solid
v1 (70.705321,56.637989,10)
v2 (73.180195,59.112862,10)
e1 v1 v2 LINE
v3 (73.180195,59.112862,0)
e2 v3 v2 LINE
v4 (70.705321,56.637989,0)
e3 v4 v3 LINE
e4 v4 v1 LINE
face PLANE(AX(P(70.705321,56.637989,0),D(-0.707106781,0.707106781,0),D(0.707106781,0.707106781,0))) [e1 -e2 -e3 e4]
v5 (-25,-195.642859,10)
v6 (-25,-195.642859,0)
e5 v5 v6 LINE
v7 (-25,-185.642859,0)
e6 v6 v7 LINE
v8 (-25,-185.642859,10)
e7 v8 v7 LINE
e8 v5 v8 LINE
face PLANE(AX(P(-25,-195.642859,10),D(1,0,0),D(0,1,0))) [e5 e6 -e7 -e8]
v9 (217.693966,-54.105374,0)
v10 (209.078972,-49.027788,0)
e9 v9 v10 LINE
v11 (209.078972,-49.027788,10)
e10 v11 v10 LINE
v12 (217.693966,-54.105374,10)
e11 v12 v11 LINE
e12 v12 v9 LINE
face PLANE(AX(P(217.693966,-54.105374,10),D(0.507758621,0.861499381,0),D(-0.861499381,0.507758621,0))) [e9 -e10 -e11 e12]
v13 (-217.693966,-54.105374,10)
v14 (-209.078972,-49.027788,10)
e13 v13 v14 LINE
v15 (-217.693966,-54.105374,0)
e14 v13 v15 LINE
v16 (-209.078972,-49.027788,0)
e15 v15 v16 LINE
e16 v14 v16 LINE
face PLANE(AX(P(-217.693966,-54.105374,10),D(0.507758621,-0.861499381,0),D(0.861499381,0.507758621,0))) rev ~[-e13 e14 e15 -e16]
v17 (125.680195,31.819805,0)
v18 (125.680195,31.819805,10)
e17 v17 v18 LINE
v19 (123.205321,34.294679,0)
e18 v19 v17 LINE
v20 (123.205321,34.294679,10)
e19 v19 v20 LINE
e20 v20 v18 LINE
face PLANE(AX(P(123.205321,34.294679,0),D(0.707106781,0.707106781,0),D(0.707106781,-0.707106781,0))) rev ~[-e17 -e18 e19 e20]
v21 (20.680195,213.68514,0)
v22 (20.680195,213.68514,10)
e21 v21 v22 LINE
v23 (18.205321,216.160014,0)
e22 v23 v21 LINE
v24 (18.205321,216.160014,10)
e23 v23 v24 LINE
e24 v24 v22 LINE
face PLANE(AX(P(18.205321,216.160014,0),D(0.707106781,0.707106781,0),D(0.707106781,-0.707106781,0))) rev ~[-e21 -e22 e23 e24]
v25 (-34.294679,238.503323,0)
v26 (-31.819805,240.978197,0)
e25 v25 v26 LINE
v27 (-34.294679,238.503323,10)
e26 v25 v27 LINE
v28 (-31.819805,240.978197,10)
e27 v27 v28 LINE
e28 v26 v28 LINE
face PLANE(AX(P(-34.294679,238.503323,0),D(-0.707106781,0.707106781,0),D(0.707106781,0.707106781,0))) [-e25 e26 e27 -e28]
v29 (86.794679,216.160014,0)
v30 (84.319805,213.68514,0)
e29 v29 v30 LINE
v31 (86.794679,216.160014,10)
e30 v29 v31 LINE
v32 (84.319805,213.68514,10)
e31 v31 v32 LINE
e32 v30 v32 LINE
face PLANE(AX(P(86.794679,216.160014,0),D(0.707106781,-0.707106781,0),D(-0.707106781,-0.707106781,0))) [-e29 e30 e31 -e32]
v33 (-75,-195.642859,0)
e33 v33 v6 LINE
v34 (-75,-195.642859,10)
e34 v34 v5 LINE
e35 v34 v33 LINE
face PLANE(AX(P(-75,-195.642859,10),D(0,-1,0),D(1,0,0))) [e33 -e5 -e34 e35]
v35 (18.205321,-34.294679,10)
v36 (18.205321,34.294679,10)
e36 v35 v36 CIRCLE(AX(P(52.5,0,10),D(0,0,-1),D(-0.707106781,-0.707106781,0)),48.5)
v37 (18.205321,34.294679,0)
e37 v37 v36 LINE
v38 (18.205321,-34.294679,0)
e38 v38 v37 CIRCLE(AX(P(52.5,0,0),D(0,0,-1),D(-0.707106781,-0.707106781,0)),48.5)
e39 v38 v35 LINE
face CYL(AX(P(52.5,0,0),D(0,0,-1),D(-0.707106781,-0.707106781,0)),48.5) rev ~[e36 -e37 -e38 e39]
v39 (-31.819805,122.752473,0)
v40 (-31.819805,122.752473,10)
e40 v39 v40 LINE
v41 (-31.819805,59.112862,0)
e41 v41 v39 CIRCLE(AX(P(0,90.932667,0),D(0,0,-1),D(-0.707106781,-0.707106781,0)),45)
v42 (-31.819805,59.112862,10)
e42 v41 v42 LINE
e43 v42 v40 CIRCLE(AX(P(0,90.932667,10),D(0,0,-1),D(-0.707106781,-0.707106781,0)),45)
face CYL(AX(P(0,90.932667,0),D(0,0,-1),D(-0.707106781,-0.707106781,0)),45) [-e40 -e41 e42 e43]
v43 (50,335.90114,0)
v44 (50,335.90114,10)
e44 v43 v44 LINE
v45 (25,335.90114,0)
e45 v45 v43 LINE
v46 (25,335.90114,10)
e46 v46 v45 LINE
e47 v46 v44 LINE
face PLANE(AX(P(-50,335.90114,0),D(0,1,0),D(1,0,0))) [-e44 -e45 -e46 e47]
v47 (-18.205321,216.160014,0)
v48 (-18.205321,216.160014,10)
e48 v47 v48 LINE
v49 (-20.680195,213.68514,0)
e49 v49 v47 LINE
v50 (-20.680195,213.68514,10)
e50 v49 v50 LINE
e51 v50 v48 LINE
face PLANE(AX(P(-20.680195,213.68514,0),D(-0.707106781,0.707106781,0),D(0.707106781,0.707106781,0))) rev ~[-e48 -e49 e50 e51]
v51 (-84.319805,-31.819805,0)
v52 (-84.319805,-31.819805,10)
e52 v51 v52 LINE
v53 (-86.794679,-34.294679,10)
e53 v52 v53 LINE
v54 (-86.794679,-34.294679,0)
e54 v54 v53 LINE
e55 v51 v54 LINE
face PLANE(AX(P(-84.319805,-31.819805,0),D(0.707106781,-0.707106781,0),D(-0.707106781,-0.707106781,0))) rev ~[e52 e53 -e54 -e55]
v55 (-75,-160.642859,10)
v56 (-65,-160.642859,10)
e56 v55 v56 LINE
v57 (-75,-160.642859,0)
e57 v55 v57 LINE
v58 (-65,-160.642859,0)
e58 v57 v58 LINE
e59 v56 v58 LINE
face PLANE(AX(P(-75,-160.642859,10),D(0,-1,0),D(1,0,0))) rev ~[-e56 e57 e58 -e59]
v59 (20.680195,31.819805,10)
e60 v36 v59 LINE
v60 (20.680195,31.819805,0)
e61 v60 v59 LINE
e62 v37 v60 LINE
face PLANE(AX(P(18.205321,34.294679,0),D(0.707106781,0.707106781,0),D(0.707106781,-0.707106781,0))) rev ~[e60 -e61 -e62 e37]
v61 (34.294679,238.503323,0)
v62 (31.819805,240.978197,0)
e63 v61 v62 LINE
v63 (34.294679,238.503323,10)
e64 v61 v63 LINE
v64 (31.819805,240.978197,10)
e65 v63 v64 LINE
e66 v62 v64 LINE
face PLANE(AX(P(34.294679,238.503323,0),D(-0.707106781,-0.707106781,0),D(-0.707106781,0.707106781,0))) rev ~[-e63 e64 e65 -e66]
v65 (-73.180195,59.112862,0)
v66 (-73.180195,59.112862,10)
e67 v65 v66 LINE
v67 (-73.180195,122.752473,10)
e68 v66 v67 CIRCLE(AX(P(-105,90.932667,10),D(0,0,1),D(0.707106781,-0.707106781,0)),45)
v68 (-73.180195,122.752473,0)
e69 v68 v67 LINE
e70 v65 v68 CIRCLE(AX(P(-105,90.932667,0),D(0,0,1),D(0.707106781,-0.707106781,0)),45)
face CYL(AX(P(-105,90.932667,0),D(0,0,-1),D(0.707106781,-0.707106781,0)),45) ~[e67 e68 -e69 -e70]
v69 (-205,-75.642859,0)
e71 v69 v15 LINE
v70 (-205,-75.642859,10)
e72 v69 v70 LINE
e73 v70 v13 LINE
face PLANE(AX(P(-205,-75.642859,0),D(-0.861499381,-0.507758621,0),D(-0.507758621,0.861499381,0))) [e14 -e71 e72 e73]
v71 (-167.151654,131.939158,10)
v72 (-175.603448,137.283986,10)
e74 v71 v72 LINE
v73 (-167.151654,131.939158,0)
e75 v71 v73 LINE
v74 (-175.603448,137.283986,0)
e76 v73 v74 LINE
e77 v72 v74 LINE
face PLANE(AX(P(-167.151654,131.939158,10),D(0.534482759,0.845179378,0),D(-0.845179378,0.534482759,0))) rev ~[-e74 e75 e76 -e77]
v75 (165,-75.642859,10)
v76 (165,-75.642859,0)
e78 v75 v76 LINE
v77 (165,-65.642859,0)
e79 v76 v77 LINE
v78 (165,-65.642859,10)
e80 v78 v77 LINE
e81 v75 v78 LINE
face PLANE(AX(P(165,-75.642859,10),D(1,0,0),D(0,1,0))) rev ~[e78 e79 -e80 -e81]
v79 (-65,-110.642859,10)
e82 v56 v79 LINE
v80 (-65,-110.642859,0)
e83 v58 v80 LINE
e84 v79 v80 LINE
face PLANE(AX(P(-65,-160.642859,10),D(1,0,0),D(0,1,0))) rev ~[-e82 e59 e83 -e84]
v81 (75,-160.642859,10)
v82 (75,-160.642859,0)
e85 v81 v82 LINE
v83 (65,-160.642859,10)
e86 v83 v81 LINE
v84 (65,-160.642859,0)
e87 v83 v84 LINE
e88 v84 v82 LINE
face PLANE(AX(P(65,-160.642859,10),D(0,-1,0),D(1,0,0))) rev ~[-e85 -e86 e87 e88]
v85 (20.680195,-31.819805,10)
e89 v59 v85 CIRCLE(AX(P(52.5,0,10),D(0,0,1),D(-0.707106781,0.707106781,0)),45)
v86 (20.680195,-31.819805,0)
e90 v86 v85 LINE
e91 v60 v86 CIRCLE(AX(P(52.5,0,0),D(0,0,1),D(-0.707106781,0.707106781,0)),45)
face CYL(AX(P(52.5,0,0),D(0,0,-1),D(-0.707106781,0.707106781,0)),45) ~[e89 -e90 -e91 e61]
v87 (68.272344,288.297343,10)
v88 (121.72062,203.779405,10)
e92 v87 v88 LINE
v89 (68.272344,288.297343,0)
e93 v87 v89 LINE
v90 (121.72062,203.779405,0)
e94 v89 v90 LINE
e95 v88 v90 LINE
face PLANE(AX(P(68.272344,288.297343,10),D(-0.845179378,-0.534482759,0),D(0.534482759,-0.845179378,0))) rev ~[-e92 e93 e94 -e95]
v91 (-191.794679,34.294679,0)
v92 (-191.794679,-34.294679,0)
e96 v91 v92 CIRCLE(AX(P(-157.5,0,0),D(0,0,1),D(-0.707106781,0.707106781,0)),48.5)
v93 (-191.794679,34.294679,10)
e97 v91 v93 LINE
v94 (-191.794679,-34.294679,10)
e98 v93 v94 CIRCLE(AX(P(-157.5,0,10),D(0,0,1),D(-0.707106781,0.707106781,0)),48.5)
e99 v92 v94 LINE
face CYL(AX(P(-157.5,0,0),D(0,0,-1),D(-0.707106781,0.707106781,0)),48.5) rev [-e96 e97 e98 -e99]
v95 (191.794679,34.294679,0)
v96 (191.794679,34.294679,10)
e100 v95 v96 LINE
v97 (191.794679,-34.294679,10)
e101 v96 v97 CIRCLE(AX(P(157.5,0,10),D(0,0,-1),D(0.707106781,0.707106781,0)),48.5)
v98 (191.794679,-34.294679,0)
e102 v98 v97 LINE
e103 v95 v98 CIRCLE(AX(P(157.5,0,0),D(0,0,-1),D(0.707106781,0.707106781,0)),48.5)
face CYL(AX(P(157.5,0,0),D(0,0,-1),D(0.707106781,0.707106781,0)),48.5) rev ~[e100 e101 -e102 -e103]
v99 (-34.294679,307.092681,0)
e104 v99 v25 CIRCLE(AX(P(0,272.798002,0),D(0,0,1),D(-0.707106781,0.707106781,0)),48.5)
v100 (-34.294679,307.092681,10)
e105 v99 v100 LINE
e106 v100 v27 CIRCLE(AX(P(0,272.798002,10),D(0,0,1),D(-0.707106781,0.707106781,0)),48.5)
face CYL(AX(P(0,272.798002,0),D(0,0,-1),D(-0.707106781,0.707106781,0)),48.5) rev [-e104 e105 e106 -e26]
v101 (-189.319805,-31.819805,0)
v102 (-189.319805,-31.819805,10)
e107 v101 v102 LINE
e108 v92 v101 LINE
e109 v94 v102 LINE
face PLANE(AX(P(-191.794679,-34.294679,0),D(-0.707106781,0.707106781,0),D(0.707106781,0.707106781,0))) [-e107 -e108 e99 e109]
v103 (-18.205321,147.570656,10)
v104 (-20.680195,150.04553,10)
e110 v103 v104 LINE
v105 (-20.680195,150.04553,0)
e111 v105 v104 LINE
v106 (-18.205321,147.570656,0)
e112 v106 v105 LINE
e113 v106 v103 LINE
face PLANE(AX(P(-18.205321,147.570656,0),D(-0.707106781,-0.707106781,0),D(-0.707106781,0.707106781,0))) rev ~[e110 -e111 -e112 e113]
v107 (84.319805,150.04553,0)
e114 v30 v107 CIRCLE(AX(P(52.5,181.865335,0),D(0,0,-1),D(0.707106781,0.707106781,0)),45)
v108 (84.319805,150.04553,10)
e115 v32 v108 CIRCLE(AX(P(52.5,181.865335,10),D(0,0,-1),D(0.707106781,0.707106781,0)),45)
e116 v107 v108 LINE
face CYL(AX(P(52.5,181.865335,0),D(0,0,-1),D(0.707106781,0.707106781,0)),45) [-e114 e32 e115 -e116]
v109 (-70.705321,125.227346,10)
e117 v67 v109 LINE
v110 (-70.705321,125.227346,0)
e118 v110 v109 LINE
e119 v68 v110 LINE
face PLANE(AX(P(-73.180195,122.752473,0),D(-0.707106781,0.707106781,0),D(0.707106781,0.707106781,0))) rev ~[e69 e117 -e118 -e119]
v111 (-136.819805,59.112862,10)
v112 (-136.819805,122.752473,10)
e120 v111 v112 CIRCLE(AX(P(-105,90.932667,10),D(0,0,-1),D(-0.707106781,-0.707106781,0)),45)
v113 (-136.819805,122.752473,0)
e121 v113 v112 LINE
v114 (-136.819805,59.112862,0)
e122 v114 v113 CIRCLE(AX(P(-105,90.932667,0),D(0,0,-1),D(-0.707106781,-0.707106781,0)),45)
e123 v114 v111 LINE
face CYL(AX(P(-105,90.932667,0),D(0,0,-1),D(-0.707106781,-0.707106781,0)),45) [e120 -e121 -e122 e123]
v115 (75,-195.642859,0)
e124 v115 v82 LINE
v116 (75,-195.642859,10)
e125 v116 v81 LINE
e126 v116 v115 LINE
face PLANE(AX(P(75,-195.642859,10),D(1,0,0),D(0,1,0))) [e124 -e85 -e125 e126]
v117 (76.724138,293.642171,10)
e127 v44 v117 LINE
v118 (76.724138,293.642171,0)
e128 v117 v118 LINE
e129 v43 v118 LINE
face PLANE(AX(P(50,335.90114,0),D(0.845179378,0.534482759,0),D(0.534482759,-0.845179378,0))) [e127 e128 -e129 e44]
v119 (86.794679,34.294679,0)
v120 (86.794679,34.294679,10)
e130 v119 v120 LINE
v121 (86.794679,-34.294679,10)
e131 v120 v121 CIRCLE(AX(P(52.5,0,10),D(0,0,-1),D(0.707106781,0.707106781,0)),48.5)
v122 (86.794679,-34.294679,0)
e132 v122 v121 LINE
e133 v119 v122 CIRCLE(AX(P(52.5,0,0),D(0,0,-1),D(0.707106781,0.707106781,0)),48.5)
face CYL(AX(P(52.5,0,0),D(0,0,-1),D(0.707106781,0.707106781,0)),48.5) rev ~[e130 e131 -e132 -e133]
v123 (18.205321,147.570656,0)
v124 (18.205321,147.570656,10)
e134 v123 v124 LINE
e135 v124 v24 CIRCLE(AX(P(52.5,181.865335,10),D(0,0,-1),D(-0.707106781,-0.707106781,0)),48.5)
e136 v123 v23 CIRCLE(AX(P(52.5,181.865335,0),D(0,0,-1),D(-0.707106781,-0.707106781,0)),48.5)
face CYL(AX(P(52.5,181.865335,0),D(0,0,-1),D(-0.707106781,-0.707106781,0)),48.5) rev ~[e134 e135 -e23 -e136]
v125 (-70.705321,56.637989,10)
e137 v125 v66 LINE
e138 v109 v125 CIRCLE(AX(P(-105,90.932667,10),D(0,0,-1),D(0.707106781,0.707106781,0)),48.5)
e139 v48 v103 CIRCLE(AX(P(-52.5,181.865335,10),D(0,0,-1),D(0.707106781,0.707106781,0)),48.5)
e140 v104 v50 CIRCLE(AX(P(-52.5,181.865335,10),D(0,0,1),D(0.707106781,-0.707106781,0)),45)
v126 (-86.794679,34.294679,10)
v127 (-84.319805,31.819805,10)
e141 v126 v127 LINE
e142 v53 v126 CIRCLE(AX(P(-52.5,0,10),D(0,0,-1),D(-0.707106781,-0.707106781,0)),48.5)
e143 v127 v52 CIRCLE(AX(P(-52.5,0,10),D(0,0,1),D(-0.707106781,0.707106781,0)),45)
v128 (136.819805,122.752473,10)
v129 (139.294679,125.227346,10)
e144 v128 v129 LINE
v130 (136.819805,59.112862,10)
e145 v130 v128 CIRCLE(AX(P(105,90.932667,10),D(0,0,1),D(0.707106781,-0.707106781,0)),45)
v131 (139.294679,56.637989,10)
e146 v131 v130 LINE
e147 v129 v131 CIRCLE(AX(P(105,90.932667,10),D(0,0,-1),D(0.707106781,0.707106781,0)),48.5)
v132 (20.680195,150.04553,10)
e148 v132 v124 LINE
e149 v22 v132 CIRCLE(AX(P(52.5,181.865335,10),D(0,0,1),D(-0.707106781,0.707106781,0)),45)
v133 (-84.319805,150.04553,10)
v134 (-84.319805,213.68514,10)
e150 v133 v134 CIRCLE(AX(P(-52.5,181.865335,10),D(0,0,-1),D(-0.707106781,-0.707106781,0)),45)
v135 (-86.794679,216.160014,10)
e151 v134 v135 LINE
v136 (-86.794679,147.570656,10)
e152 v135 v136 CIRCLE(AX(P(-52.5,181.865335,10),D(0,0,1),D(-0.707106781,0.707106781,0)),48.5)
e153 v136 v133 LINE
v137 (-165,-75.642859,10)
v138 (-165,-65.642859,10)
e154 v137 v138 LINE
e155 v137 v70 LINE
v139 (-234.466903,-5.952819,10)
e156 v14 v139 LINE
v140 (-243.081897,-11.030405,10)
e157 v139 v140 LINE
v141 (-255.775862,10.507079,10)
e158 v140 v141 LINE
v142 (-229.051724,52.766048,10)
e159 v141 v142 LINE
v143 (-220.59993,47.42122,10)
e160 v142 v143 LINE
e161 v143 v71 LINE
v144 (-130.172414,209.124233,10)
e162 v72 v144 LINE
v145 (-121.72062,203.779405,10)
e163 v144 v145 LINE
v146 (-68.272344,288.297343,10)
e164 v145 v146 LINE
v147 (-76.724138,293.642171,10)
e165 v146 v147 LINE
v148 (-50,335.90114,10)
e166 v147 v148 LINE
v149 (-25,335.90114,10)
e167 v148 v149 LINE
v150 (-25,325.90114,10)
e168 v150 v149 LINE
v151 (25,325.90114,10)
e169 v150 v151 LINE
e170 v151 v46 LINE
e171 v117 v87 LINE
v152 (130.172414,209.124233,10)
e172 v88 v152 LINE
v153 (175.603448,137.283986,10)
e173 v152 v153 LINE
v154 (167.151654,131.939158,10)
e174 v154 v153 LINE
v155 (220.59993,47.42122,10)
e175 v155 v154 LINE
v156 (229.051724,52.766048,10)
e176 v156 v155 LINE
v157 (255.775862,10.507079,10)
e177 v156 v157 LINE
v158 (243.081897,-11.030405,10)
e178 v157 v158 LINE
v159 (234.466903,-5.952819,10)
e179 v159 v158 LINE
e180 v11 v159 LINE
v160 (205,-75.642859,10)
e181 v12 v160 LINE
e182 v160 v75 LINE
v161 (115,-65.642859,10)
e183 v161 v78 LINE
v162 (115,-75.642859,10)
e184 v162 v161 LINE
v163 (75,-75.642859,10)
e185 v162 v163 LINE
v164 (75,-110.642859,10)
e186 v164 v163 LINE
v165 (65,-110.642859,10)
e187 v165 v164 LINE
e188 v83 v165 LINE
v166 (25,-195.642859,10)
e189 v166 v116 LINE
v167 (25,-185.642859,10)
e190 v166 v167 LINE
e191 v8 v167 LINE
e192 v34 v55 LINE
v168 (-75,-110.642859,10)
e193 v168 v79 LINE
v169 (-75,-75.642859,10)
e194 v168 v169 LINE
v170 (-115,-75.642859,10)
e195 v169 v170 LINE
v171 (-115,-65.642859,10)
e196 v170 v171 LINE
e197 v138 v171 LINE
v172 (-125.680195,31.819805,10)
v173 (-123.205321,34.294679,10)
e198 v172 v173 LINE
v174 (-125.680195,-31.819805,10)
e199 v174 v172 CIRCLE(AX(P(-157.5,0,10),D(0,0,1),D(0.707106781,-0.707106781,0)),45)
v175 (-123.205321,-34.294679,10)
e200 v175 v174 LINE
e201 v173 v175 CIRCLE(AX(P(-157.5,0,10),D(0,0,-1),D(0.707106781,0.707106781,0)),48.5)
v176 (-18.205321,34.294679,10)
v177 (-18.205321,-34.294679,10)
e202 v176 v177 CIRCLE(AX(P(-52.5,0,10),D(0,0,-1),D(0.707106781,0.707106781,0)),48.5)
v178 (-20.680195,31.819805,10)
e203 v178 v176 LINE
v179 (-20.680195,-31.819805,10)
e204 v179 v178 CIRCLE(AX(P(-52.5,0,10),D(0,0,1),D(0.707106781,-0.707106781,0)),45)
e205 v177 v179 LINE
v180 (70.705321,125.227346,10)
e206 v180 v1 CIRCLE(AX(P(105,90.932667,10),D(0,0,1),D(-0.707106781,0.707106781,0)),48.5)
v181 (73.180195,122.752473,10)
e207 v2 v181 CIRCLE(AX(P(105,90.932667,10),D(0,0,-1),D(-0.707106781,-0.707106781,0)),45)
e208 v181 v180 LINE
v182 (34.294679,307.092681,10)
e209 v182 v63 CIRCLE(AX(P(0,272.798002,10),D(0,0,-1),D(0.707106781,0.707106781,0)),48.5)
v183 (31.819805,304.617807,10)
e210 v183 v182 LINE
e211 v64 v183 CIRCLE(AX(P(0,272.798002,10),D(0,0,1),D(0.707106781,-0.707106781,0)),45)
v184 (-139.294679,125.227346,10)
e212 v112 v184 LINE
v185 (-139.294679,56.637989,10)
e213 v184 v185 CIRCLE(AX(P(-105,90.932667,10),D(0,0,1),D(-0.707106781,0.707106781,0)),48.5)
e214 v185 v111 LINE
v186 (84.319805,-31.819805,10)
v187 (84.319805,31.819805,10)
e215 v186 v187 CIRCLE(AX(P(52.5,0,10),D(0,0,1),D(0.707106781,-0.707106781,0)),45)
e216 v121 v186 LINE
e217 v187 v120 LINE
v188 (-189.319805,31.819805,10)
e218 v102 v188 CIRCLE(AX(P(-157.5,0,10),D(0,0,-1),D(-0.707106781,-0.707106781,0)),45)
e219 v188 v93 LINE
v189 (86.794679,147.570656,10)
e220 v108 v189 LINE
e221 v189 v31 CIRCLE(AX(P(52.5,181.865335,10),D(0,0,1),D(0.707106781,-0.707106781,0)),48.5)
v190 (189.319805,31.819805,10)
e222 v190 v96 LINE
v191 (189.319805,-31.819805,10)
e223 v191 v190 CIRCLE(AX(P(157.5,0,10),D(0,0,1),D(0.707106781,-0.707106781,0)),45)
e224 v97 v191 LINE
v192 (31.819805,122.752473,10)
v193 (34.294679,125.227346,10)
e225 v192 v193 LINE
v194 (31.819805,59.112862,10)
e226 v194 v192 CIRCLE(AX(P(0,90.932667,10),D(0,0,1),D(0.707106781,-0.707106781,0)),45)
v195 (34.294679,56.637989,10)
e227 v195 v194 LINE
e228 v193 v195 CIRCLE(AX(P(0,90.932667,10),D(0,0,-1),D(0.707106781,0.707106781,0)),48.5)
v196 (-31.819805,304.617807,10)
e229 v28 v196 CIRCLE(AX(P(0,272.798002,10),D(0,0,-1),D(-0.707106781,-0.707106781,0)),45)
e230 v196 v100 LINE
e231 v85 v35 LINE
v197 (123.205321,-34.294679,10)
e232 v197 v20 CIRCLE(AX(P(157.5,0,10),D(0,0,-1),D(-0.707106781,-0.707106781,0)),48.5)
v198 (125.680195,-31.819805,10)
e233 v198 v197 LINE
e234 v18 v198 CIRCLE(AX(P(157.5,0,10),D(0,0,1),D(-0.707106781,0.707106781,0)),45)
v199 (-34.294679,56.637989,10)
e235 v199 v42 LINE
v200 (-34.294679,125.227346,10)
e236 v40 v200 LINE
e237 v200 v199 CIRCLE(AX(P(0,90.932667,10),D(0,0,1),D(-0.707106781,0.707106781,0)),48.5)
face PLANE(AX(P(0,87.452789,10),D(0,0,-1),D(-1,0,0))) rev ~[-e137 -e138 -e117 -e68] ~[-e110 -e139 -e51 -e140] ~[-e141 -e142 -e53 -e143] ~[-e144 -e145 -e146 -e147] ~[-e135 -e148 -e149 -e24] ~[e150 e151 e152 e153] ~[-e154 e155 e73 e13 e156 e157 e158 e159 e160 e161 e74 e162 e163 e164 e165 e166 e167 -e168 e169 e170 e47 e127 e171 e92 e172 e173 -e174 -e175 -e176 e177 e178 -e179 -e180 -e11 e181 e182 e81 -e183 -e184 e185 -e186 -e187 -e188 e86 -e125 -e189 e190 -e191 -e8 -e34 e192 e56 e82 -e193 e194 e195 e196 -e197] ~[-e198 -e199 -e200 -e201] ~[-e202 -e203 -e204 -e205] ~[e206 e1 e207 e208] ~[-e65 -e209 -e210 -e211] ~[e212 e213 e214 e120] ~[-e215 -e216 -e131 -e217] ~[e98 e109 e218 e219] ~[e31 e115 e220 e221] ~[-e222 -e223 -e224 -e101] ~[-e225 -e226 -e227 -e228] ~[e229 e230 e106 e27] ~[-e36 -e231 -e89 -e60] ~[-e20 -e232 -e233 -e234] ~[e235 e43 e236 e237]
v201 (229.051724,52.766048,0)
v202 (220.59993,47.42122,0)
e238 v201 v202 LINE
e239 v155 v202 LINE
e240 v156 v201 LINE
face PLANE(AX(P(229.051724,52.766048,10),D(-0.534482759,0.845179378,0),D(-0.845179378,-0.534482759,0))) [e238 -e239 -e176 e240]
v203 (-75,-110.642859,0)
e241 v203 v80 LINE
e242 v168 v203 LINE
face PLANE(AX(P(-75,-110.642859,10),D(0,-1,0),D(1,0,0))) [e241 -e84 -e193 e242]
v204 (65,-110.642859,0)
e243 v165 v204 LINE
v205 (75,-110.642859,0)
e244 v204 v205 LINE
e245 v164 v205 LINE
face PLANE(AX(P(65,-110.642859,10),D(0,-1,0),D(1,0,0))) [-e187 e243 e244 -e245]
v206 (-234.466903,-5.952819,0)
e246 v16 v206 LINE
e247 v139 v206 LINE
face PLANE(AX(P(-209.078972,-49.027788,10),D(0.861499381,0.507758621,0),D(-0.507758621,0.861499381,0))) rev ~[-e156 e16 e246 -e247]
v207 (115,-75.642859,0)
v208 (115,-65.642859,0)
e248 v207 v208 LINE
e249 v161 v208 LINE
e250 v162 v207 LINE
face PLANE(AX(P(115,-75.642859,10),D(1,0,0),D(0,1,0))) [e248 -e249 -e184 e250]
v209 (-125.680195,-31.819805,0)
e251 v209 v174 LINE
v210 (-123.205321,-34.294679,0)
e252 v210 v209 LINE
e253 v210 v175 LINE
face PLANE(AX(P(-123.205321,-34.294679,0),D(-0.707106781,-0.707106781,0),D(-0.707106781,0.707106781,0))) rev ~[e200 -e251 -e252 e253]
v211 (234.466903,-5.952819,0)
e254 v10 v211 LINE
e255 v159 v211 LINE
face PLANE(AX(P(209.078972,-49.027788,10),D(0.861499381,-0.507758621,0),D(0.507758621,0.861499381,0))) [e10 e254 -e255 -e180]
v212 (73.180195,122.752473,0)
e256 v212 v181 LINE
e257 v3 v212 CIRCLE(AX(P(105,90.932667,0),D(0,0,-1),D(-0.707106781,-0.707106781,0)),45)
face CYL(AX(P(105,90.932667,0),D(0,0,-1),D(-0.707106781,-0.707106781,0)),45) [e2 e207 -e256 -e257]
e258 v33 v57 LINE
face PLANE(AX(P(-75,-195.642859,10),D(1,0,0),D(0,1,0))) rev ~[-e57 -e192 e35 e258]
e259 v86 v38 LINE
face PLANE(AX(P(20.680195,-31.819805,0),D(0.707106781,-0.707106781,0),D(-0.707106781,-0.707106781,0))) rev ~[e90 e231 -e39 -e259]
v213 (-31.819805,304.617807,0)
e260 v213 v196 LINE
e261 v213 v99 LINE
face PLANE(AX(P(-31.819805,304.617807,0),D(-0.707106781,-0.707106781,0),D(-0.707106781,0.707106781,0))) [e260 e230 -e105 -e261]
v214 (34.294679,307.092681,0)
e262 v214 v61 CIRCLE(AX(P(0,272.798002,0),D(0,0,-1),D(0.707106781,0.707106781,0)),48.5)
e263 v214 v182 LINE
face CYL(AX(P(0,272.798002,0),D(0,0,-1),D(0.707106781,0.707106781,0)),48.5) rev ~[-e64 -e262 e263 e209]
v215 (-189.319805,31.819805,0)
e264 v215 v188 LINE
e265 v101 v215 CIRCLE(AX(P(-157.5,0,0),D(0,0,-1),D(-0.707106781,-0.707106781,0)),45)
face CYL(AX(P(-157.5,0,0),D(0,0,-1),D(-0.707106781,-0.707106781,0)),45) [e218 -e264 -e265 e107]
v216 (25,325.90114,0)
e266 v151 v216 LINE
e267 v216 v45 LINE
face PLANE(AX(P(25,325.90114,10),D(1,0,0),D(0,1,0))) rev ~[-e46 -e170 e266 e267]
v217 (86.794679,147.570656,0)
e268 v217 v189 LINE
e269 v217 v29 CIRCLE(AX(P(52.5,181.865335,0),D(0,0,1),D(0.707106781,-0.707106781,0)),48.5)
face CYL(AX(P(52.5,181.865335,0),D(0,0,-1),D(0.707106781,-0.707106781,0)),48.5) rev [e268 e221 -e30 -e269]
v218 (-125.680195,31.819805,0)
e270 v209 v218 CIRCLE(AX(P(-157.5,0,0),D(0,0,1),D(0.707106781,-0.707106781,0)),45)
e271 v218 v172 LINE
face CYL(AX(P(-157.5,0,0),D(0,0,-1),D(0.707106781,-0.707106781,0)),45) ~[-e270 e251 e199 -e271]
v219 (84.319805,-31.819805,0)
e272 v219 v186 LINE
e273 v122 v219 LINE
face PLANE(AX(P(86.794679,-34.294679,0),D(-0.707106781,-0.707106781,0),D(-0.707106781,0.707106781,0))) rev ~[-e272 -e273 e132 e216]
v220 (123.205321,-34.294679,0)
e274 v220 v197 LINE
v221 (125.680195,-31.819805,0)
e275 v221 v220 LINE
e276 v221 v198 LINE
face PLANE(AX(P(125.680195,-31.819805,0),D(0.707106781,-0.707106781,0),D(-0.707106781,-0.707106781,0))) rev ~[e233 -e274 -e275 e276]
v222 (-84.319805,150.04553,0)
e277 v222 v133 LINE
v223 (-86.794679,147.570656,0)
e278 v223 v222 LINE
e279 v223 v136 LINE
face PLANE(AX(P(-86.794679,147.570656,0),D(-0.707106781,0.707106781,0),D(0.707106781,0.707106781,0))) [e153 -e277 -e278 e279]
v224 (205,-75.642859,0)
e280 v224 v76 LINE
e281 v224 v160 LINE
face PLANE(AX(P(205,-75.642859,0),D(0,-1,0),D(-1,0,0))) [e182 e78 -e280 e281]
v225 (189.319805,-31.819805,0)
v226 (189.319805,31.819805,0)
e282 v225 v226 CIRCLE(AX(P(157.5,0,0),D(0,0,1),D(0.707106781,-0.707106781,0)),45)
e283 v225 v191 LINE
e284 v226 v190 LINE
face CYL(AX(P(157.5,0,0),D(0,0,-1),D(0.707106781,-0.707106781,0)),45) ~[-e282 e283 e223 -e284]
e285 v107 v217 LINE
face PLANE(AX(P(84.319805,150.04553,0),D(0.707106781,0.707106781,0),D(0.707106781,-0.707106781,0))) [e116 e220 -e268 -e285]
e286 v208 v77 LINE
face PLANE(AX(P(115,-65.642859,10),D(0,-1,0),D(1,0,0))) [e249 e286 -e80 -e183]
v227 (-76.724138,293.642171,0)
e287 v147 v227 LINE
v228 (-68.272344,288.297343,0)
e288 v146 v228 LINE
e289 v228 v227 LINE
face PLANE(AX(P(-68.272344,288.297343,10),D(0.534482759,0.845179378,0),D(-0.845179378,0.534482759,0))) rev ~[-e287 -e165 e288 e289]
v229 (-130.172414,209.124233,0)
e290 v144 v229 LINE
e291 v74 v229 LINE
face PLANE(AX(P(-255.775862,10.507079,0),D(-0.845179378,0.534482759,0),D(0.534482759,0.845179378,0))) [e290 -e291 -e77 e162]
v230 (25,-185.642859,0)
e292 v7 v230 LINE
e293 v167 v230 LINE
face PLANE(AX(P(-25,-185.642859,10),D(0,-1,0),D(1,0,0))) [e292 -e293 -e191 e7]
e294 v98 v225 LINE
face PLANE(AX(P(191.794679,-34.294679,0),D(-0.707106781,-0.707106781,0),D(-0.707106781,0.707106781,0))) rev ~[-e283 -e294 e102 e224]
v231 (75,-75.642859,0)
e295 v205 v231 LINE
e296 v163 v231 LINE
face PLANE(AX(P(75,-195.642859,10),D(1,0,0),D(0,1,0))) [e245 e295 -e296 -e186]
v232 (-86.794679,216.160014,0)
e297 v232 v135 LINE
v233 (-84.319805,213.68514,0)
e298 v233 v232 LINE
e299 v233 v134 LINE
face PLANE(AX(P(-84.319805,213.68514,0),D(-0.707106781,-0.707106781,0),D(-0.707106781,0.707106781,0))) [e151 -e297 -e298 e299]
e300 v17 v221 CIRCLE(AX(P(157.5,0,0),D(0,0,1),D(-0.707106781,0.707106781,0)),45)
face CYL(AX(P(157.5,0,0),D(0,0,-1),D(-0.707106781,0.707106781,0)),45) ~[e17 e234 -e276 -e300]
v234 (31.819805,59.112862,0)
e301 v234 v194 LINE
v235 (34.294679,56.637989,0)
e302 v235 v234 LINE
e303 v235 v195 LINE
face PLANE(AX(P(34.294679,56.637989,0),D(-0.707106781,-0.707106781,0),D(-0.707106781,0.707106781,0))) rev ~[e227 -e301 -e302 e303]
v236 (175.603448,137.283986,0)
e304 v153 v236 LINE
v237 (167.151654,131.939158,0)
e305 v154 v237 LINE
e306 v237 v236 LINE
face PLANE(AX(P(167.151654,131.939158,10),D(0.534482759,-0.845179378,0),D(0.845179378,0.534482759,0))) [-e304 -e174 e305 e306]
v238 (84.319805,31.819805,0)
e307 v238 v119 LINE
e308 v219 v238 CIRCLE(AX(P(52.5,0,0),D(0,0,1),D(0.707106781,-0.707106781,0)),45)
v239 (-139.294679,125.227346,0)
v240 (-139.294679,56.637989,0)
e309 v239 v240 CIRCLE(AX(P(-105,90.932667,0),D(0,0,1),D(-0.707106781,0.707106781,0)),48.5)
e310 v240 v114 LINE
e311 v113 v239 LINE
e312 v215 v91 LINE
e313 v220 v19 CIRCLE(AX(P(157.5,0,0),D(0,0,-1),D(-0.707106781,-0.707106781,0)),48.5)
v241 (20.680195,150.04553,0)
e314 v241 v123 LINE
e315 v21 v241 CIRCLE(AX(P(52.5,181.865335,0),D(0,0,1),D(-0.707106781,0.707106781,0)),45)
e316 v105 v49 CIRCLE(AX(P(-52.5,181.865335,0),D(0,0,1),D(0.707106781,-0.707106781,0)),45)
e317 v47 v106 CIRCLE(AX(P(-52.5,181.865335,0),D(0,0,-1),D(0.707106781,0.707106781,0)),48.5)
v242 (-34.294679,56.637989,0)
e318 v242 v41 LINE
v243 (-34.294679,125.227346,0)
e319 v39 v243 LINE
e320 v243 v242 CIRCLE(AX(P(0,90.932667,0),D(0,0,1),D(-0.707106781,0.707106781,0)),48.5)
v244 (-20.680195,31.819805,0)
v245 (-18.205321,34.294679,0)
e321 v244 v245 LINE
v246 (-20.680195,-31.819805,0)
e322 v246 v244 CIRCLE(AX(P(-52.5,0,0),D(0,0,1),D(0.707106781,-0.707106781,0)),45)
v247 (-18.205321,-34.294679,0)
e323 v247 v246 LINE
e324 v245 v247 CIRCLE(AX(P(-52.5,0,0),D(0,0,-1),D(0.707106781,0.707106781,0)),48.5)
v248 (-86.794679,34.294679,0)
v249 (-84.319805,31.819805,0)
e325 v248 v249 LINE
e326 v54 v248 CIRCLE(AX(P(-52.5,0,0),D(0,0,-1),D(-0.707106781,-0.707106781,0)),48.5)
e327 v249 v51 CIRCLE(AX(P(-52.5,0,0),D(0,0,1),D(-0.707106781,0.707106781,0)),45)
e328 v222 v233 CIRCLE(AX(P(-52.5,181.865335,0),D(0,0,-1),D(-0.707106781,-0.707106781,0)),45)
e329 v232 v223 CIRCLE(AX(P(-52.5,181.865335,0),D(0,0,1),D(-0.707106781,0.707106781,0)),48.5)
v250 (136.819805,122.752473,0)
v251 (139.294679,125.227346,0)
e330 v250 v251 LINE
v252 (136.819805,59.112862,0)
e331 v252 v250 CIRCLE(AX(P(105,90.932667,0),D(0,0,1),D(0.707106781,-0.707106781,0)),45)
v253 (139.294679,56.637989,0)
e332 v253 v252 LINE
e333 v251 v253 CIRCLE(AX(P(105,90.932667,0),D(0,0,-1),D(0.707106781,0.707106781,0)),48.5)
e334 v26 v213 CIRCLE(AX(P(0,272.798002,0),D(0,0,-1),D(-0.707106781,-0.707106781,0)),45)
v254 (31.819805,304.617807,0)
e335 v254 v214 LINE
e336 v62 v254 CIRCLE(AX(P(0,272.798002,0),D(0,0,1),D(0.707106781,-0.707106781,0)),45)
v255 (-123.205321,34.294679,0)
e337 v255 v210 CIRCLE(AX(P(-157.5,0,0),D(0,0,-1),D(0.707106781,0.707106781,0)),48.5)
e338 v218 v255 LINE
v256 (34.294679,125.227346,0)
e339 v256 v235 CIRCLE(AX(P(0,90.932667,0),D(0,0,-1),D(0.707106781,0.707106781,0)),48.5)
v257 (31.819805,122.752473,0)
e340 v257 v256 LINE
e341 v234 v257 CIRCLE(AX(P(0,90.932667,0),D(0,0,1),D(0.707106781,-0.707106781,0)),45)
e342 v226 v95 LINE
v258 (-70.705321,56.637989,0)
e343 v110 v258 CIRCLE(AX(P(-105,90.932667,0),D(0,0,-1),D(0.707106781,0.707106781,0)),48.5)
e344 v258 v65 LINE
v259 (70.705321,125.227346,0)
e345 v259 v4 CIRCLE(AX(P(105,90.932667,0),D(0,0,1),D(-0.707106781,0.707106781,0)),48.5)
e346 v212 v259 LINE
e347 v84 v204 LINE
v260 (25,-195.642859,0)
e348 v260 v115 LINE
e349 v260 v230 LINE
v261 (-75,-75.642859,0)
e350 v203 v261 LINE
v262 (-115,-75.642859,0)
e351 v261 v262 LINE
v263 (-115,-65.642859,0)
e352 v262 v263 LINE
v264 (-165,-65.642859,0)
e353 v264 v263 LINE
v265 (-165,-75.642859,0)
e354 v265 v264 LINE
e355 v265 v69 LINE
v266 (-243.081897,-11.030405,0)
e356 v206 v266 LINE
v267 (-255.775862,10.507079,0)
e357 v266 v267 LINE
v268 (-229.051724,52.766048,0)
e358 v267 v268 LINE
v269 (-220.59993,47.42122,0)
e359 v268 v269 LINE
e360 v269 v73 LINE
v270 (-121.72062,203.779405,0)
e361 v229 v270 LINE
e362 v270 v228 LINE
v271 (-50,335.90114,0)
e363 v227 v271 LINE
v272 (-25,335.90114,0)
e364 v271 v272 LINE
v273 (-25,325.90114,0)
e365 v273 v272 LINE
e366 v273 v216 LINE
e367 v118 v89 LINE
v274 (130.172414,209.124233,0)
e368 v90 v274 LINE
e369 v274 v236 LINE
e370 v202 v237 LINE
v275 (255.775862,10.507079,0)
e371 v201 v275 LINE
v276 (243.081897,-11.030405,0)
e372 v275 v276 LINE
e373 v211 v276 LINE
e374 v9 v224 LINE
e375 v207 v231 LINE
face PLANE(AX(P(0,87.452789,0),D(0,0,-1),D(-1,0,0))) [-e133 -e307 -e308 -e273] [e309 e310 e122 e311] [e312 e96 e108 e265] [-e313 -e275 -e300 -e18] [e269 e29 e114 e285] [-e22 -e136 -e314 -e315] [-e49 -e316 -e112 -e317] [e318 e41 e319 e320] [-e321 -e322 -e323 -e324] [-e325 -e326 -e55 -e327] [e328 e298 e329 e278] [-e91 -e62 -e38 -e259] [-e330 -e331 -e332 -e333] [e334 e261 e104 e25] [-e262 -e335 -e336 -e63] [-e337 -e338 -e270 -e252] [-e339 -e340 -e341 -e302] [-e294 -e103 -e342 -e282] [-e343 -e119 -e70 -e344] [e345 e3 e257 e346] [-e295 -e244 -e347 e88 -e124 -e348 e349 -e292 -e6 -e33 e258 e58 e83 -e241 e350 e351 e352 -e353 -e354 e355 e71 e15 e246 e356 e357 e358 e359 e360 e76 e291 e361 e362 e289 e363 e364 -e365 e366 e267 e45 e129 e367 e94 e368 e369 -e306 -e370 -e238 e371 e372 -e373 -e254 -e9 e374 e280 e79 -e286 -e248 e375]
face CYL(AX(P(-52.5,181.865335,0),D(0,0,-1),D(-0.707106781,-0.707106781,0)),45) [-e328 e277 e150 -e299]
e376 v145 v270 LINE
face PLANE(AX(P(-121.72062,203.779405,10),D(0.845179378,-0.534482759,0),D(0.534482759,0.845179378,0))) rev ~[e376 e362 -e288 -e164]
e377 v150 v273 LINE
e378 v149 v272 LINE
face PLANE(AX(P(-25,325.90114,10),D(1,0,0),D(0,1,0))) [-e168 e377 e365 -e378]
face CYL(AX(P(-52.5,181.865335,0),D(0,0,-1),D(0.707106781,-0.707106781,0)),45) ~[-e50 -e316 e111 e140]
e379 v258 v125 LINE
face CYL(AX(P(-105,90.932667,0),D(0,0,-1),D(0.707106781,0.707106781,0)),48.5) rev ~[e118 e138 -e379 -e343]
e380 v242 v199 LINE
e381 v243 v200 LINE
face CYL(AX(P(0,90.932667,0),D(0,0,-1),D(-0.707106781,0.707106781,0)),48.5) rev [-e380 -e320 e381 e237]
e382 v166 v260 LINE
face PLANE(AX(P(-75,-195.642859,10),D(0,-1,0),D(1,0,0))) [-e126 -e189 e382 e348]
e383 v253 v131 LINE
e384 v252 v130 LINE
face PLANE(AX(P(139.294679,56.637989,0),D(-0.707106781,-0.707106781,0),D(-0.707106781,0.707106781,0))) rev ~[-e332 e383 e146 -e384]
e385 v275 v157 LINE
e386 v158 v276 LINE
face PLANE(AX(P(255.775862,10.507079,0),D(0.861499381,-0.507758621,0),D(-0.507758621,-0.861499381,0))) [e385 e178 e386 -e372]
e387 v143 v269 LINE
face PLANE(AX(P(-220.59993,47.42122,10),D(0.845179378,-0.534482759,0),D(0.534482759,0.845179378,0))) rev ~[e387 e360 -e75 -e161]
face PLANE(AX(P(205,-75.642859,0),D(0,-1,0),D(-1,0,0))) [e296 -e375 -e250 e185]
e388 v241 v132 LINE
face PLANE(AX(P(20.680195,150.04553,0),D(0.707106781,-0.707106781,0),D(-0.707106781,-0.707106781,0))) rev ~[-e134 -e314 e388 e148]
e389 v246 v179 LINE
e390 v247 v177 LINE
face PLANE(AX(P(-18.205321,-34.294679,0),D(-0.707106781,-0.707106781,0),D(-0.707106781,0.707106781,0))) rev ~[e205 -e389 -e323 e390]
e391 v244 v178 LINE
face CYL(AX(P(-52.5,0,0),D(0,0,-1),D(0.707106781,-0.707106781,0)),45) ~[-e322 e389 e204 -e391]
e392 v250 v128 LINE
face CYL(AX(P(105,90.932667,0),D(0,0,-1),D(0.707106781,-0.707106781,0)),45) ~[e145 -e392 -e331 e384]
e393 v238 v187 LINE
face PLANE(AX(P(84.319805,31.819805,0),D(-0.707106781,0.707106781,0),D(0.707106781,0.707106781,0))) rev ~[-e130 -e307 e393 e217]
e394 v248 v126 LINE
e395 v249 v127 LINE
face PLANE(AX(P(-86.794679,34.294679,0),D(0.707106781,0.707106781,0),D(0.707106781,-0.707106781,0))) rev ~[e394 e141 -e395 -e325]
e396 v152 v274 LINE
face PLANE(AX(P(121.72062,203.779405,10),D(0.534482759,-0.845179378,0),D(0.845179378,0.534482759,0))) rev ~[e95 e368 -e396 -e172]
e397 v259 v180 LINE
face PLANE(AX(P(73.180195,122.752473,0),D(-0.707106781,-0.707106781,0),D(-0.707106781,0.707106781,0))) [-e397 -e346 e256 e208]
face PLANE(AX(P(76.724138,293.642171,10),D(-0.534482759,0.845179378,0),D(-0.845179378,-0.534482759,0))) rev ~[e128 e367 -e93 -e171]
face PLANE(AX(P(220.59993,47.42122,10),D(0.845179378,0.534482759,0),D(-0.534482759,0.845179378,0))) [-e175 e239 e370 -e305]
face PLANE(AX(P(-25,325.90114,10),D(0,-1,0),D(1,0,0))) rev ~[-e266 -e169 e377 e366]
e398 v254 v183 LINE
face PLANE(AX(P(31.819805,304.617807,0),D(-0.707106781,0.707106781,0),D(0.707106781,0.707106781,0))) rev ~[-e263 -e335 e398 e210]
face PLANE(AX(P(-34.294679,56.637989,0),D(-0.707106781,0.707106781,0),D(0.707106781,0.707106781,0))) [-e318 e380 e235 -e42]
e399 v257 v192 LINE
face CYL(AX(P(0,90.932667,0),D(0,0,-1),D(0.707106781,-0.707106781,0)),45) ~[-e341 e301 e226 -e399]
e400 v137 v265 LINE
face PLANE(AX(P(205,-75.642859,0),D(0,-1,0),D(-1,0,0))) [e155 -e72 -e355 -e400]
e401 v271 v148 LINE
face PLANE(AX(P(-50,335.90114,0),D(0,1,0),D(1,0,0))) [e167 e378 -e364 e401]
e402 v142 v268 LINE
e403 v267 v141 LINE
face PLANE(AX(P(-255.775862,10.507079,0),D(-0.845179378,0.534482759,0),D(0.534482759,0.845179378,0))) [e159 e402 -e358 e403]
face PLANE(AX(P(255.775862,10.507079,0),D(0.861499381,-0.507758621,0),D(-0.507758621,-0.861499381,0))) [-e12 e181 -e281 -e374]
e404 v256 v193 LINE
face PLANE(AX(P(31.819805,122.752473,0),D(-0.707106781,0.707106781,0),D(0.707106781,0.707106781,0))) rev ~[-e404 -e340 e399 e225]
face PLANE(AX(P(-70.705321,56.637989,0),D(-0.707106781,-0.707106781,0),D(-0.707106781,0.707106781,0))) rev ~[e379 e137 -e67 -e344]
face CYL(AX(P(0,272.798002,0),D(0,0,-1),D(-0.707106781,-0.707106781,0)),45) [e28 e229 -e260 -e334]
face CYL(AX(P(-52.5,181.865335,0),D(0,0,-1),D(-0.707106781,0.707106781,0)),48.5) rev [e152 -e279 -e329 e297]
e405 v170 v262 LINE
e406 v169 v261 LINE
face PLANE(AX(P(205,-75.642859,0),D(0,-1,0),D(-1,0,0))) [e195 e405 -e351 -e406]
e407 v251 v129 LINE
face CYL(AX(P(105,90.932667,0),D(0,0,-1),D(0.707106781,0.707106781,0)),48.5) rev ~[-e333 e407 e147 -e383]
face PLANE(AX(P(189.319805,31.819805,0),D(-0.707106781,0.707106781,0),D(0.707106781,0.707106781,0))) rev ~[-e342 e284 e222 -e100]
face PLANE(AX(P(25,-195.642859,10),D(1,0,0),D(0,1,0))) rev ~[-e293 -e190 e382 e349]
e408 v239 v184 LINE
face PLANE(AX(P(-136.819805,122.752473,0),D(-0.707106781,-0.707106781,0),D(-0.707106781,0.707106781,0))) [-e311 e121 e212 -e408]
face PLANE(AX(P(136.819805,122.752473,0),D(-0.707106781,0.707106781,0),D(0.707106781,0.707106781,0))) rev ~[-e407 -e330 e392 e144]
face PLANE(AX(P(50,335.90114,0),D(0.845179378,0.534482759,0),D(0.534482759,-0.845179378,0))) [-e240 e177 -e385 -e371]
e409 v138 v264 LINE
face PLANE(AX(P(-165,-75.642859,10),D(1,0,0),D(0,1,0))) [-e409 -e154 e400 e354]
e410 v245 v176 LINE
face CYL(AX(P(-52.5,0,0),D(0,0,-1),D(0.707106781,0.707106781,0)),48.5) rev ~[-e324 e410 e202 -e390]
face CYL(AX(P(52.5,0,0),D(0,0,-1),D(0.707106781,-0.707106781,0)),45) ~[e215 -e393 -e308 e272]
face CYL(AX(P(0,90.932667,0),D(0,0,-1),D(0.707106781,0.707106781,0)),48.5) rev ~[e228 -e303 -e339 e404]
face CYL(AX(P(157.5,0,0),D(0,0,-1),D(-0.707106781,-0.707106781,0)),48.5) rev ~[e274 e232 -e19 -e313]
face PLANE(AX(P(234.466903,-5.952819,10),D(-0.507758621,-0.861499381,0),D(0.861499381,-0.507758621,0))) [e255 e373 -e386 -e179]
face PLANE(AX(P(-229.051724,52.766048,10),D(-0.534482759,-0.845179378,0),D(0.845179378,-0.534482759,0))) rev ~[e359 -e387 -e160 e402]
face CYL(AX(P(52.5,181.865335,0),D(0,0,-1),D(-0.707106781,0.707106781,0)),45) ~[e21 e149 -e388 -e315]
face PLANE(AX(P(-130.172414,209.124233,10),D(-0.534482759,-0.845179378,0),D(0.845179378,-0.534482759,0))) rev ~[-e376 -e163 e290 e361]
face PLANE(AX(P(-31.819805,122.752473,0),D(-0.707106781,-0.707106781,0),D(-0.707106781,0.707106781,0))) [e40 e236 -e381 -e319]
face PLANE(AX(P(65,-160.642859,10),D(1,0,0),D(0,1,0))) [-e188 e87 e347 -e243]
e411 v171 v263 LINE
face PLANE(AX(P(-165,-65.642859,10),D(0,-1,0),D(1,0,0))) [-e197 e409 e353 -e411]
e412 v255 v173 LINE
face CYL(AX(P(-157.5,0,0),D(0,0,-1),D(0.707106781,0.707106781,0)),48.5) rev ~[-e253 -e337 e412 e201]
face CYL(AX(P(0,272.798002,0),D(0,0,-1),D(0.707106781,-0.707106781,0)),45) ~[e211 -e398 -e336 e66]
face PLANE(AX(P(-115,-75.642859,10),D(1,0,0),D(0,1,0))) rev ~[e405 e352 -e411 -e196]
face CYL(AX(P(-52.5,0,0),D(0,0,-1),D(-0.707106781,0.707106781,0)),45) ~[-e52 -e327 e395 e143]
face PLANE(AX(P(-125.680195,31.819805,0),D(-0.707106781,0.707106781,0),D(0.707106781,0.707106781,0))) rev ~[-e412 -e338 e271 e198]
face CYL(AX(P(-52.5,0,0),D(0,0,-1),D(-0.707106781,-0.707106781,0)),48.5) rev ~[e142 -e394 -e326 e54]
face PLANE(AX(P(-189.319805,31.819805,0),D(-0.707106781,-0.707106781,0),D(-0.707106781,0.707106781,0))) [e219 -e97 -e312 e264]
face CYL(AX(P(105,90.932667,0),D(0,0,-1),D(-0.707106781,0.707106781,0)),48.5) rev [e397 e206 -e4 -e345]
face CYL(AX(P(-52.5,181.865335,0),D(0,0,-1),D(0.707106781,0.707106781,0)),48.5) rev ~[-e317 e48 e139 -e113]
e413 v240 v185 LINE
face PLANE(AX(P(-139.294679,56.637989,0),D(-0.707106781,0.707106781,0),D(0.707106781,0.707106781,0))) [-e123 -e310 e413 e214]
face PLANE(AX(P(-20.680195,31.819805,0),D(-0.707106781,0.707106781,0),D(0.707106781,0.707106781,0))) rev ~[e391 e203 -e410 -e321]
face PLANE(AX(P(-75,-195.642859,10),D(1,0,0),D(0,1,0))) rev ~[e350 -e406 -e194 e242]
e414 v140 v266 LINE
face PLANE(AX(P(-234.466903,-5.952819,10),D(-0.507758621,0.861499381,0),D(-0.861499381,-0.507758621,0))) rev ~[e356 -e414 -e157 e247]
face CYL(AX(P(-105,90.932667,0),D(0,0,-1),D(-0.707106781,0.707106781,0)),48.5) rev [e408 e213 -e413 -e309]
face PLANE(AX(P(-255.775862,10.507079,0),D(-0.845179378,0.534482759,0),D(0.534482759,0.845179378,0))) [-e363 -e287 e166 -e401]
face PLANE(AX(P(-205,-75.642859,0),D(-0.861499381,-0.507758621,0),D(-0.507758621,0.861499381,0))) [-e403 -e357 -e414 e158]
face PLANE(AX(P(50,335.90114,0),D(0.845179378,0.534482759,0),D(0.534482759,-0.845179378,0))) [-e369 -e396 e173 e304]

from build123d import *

# Parameters (mm, degrees)
BOSS_EXTRU_1_DEPTH      = 10
ESQUISSE2_W             = 150
ESQUISSE2_H             = 120
BOSS_EXTRU_2_DEPTH      = 10
ESQUISSE3_W             = 10
ESQUISSE3_H             = 50
ESQUISSE3_W_2           = 50
ESQUISSE3_H_2           = 10
ENL_V_MAT_EXTRU_1_DEPTH = 10
ESQUISSE4_W             = 50
ESQUISSE4_H             = 10
ENL_V_MAT_EXTRU_2_DEPTH = 10


with BuildPart() as part:
    # Esquisse1 → Boss.-Extru.1 (new body)
    with BuildSketch(Plane.XY):
        Polygon((-50, 335.901139535), (50, 335.901139535), (255.775862069, 10.507079064), (205, -75.642859016), (-205, -75.642859016), (-255.775862069, 10.507079064), align=None)
        with BuildLine():
            Line((-189.319805153, 31.819805153), (-191.794678888, 34.294678888))
            ThreePointArc((-191.794678888, 34.294678888), (-206, 0), (-191.794678888, -34.294678888))
            Line((-191.794678888, -34.294678888), (-189.319805153, -31.819805153))
            ThreePointArc((-189.319805153, -31.819805153), (-202.5, 0), (-189.319805153, 31.819805153))
        make_face(mode=Mode.SUBTRACT)
        with BuildLine():
            Line((-125.680194847, 31.819805153), (-123.205321112, 34.294678888))
            ThreePointArc((-123.205321112, 34.294678888), (-109, 0), (-123.205321112, -34.294678888))
            Line((-123.205321112, -34.294678888), (-125.680194847, -31.819805153))
            ThreePointArc((-125.680194847, -31.819805153), (-112.5, 0), (-125.680194847, 31.819805153))
        make_face(mode=Mode.SUBTRACT)
        with BuildLine():
            Line((-84.319805153, -31.819805153), (-86.794678888, -34.294678888))
            ThreePointArc((-86.794678888, -34.294678888), (-101, 0), (-86.794678888, 34.294678888))
            Line((-86.794678888, 34.294678888), (-84.319805153, 31.819805153))
            ThreePointArc((-84.319805153, 31.819805153), (-97.5, 0), (-84.319805153, -31.819805153))
        make_face(mode=Mode.SUBTRACT)
        with BuildLine():
            Line((-20.680194847, 31.819805153), (-18.205321112, 34.294678888))
            ThreePointArc((-18.205321112, 34.294678888), (-4, 0), (-18.205321112, -34.294678888))
            Line((-18.205321112, -34.294678888), (-20.680194847, -31.819805153))
            ThreePointArc((-20.680194847, -31.819805153), (-7.5, 0), (-20.680194847, 31.819805153))
        make_face(mode=Mode.SUBTRACT)
        with BuildLine():
            Line((20.680194847, -31.819805153), (18.205321112, -34.294678888))
            ThreePointArc((18.205321112, -34.294678888), (4, 0), (18.205321112, 34.294678888))
            Line((18.205321112, 34.294678888), (20.680194847, 31.819805153))
            ThreePointArc((20.680194847, 31.819805153), (7.5, 0), (20.680194847, -31.819805153))
        make_face(mode=Mode.SUBTRACT)
        with BuildLine():
            Line((84.319805153, 31.819805153), (86.794678888, 34.294678888))
            ThreePointArc((86.794678888, 34.294678888), (101, 0), (86.794678888, -34.294678888))
            Line((86.794678888, -34.294678888), (84.319805153, -31.819805153))
            ThreePointArc((84.319805153, -31.819805153), (97.5, 0), (84.319805153, 31.819805153))
        make_face(mode=Mode.SUBTRACT)
        with BuildLine():
            Line((125.680194847, -31.819805153), (123.205321112, -34.294678888))
            ThreePointArc((123.205321112, -34.294678888), (109, 0), (123.205321112, 34.294678888))
            Line((123.205321112, 34.294678888), (125.680194847, 31.819805153))
            ThreePointArc((125.680194847, 31.819805153), (112.5, 0), (125.680194847, -31.819805153))
        make_face(mode=Mode.SUBTRACT)
        with BuildLine():
            Line((189.319805153, 31.819805153), (191.794678888, 34.294678888))
            ThreePointArc((191.794678888, 34.294678888), (206, 0), (191.794678888, -34.294678888))
            Line((191.794678888, -34.294678888), (189.319805153, -31.819805153))
            ThreePointArc((189.319805153, -31.819805153), (202.5, 0), (189.319805153, 31.819805153))
        make_face(mode=Mode.SUBTRACT)
        with BuildLine():
            Line((-139.294678888, 56.63798851), (-136.819805153, 59.112862244))
            ThreePointArc((-136.819805153, 59.112862244), (-150, 90.932667397), (-136.819805153, 122.752472551))
            Line((-136.819805153, 122.752472551), (-139.294678888, 125.227346285))
            ThreePointArc((-139.294678888, 125.227346285), (-153.5, 90.932667397), (-139.294678888, 56.63798851))
        make_face(mode=Mode.SUBTRACT)
        with BuildLine():
            Line((-70.705321112, 56.63798851), (-73.180194847, 59.112862244))
            ThreePointArc((-73.180194847, 59.112862244), (-60, 90.932667397), (-73.180194847, 122.752472551))
            Line((-73.180194847, 122.752472551), (-70.705321112, 125.227346285))
            ThreePointArc((-70.705321112, 125.227346285), (-56.5, 90.932667397), (-70.705321112, 56.63798851))
        make_face(mode=Mode.SUBTRACT)
        with BuildLine():
            Line((-31.819805153, 122.752472551), (-34.294678888, 125.227346285))
            ThreePointArc((-34.294678888, 125.227346285), (-48.5, 90.932667397), (-34.294678888, 56.63798851))
            Line((-34.294678888, 56.63798851), (-31.819805153, 59.112862244))
            ThreePointArc((-31.819805153, 59.112862244), (-45, 90.932667397), (-31.819805153, 122.752472551))
        make_face(mode=Mode.SUBTRACT)
        with BuildLine():
            Line((34.294678888, 56.63798851), (31.819805153, 59.112862244))
            ThreePointArc((31.819805153, 59.112862244), (45, 90.932667397), (31.819805153, 122.752472551))
            Line((31.819805153, 122.752472551), (34.294678888, 125.227346285))
            ThreePointArc((34.294678888, 125.227346285), (48.5, 90.932667397), (34.294678888, 56.63798851))
        make_face(mode=Mode.SUBTRACT)
        with BuildLine():
            Line((73.180194847, 122.752472551), (70.705321112, 125.227346285))
            ThreePointArc((70.705321112, 125.227346285), (56.5, 90.932667397), (70.705321112, 56.63798851))
            Line((70.705321112, 56.63798851), (73.180194847, 59.112862244))
            ThreePointArc((73.180194847, 59.112862244), (60, 90.932667397), (73.180194847, 122.752472551))
        make_face(mode=Mode.SUBTRACT)
        with BuildLine():
            Line((139.294678888, 56.63798851), (136.819805153, 59.112862244))
            ThreePointArc((136.819805153, 59.112862244), (150, 90.932667397), (136.819805153, 122.752472551))
            Line((136.819805153, 122.752472551), (139.294678888, 125.227346285))
            ThreePointArc((139.294678888, 125.227346285), (153.5, 90.932667397), (139.294678888, 56.63798851))
        make_face(mode=Mode.SUBTRACT)
        with BuildLine():
            Line((-84.319805153, 213.685139948), (-86.794678888, 216.160013682))
            ThreePointArc((-86.794678888, 216.160013682), (-101, 181.865334795), (-86.794678888, 147.570655907))
            Line((-86.794678888, 147.570655907), (-84.319805153, 150.045529641))
            ThreePointArc((-84.319805153, 150.045529641), (-97.5, 181.865334795), (-84.319805153, 213.685139948))
        make_face(mode=Mode.SUBTRACT)
        with BuildLine():
            Line((-20.680194847, 213.685139948), (-18.205321112, 216.160013682))
            ThreePointArc((-18.205321112, 216.160013682), (-4, 181.865334795), (-18.205321112, 147.570655907))
            Line((-18.205321112, 147.570655907), (-20.680194847, 150.045529641))
            ThreePointArc((-20.680194847, 150.045529641), (-7.5, 181.865334795), (-20.680194847, 213.685139948))
        make_face(mode=Mode.SUBTRACT)
        with BuildLine():
            Line((20.680194847, 150.045529641), (18.205321112, 147.570655907))
            ThreePointArc((18.205321112, 147.570655907), (4, 181.865334795), (18.205321112, 216.160013682))
            Line((18.205321112, 216.160013682), (20.680194847, 213.685139948))
            ThreePointArc((20.680194847, 213.685139948), (7.5, 181.865334795), (20.680194847, 150.045529641))
        make_face(mode=Mode.SUBTRACT)
        with BuildLine():
            Line((84.319805153, 150.045529641), (86.794678888, 147.570655907))
            ThreePointArc((86.794678888, 147.570655907), (101, 181.865334795), (86.794678888, 216.160013682))
            Line((86.794678888, 216.160013682), (84.319805153, 213.685139948))
            ThreePointArc((84.319805153, 213.685139948), (97.5, 181.865334795), (84.319805153, 150.045529641))
        make_face(mode=Mode.SUBTRACT)
        with BuildLine():
            Line((-31.819805153, 304.617807345), (-34.294678888, 307.09268108))
            ThreePointArc((-34.294678888, 307.09268108), (-48.5, 272.798002192), (-34.294678888, 238.503323305))
            Line((-34.294678888, 238.503323305), (-31.819805153, 240.978197039))
            ThreePointArc((-31.819805153, 240.978197039), (-45, 272.798002192), (-31.819805153, 304.617807345))
        make_face(mode=Mode.SUBTRACT)
        with BuildLine():
            Line((31.819805153, 304.617807345), (34.294678888, 307.09268108))
            ThreePointArc((34.294678888, 307.09268108), (48.5, 272.798002192), (34.294678888, 238.503323305))
            Line((34.294678888, 238.503323305), (31.819805153, 240.978197039))
            ThreePointArc((31.819805153, 240.978197039), (45, 272.798002192), (31.819805153, 304.617807345))
        make_face(mode=Mode.SUBTRACT)
    extrude(amount=BOSS_EXTRU_1_DEPTH)

    # Esquisse2 → Boss.-Extru.2 (add)
    with BuildSketch(Plane.XY.offset(10)):
        with Locations((0, -135.642859016)):
            Rectangle(ESQUISSE2_W, ESQUISSE2_H)
    extrude(amount=-BOSS_EXTRU_2_DEPTH)

    # Esquisse3 → Enlèv. mat.-Extru.1 (cut)
    with BuildSketch(Plane.XY.offset(10)):
        with Locations((-70, -135.642859016)):
            Rectangle(ESQUISSE3_W, ESQUISSE3_H)
        with Locations((0, -190.642859016)):
            Rectangle(ESQUISSE3_W_2, ESQUISSE3_H_2)
        with Locations((70, -135.642859016)):
            Rectangle(ESQUISSE3_W, ESQUISSE3_H)
    extrude(amount=-ENL_V_MAT_EXTRU_1_DEPTH, mode=Mode.SUBTRACT)

    # Esquisse4 → Enlèv. mat.-Extru.2 (cut)
    with BuildSketch(Plane.XY.offset(10)):
        with Locations((-140, -70.642859016)):
            Rectangle(ESQUISSE4_W, ESQUISSE4_H)
        Polygon((-217.693965517, -54.105374496), (-209.078971709, -49.027788289), (-234.466902744, -5.952819249), (-243.081896552, -11.030405456), align=None)
        Polygon((-229.051724138, 52.766047956), (-220.599930359, 47.42122037), (-167.151654497, 131.939158154), (-175.603448276, 137.283985741), align=None)
        Polygon((-68.272344153, 288.297343056), (-76.724137931, 293.642170642), (-130.172413793, 209.124232858), (-121.720620015, 203.779405271), align=None)
        with Locations((0, 330.901139535)):
            Rectangle(ESQUISSE4_W, ESQUISSE4_H)
        with Locations((140, -70.642859016)):
            Rectangle(ESQUISSE4_W, ESQUISSE4_H)
        Polygon((234.466902744, -5.952819249), (243.081896552, -11.030405456), (217.693965517, -54.105374496), (209.078971709, -49.027788289), align=None)
        Polygon((167.151654497, 131.939158154), (175.603448276, 137.283985741), (229.051724138, 52.766047956), (220.599930359, 47.42122037), align=None)
        Polygon((121.720620015, 203.779405271), (130.172413793, 209.124232858), (76.724137931, 293.642170642), (68.272344153, 288.297343056), align=None)
    extrude(amount=-ENL_V_MAT_EXTRU_2_DEPTH, mode=Mode.SUBTRACT)


solid = part.part
